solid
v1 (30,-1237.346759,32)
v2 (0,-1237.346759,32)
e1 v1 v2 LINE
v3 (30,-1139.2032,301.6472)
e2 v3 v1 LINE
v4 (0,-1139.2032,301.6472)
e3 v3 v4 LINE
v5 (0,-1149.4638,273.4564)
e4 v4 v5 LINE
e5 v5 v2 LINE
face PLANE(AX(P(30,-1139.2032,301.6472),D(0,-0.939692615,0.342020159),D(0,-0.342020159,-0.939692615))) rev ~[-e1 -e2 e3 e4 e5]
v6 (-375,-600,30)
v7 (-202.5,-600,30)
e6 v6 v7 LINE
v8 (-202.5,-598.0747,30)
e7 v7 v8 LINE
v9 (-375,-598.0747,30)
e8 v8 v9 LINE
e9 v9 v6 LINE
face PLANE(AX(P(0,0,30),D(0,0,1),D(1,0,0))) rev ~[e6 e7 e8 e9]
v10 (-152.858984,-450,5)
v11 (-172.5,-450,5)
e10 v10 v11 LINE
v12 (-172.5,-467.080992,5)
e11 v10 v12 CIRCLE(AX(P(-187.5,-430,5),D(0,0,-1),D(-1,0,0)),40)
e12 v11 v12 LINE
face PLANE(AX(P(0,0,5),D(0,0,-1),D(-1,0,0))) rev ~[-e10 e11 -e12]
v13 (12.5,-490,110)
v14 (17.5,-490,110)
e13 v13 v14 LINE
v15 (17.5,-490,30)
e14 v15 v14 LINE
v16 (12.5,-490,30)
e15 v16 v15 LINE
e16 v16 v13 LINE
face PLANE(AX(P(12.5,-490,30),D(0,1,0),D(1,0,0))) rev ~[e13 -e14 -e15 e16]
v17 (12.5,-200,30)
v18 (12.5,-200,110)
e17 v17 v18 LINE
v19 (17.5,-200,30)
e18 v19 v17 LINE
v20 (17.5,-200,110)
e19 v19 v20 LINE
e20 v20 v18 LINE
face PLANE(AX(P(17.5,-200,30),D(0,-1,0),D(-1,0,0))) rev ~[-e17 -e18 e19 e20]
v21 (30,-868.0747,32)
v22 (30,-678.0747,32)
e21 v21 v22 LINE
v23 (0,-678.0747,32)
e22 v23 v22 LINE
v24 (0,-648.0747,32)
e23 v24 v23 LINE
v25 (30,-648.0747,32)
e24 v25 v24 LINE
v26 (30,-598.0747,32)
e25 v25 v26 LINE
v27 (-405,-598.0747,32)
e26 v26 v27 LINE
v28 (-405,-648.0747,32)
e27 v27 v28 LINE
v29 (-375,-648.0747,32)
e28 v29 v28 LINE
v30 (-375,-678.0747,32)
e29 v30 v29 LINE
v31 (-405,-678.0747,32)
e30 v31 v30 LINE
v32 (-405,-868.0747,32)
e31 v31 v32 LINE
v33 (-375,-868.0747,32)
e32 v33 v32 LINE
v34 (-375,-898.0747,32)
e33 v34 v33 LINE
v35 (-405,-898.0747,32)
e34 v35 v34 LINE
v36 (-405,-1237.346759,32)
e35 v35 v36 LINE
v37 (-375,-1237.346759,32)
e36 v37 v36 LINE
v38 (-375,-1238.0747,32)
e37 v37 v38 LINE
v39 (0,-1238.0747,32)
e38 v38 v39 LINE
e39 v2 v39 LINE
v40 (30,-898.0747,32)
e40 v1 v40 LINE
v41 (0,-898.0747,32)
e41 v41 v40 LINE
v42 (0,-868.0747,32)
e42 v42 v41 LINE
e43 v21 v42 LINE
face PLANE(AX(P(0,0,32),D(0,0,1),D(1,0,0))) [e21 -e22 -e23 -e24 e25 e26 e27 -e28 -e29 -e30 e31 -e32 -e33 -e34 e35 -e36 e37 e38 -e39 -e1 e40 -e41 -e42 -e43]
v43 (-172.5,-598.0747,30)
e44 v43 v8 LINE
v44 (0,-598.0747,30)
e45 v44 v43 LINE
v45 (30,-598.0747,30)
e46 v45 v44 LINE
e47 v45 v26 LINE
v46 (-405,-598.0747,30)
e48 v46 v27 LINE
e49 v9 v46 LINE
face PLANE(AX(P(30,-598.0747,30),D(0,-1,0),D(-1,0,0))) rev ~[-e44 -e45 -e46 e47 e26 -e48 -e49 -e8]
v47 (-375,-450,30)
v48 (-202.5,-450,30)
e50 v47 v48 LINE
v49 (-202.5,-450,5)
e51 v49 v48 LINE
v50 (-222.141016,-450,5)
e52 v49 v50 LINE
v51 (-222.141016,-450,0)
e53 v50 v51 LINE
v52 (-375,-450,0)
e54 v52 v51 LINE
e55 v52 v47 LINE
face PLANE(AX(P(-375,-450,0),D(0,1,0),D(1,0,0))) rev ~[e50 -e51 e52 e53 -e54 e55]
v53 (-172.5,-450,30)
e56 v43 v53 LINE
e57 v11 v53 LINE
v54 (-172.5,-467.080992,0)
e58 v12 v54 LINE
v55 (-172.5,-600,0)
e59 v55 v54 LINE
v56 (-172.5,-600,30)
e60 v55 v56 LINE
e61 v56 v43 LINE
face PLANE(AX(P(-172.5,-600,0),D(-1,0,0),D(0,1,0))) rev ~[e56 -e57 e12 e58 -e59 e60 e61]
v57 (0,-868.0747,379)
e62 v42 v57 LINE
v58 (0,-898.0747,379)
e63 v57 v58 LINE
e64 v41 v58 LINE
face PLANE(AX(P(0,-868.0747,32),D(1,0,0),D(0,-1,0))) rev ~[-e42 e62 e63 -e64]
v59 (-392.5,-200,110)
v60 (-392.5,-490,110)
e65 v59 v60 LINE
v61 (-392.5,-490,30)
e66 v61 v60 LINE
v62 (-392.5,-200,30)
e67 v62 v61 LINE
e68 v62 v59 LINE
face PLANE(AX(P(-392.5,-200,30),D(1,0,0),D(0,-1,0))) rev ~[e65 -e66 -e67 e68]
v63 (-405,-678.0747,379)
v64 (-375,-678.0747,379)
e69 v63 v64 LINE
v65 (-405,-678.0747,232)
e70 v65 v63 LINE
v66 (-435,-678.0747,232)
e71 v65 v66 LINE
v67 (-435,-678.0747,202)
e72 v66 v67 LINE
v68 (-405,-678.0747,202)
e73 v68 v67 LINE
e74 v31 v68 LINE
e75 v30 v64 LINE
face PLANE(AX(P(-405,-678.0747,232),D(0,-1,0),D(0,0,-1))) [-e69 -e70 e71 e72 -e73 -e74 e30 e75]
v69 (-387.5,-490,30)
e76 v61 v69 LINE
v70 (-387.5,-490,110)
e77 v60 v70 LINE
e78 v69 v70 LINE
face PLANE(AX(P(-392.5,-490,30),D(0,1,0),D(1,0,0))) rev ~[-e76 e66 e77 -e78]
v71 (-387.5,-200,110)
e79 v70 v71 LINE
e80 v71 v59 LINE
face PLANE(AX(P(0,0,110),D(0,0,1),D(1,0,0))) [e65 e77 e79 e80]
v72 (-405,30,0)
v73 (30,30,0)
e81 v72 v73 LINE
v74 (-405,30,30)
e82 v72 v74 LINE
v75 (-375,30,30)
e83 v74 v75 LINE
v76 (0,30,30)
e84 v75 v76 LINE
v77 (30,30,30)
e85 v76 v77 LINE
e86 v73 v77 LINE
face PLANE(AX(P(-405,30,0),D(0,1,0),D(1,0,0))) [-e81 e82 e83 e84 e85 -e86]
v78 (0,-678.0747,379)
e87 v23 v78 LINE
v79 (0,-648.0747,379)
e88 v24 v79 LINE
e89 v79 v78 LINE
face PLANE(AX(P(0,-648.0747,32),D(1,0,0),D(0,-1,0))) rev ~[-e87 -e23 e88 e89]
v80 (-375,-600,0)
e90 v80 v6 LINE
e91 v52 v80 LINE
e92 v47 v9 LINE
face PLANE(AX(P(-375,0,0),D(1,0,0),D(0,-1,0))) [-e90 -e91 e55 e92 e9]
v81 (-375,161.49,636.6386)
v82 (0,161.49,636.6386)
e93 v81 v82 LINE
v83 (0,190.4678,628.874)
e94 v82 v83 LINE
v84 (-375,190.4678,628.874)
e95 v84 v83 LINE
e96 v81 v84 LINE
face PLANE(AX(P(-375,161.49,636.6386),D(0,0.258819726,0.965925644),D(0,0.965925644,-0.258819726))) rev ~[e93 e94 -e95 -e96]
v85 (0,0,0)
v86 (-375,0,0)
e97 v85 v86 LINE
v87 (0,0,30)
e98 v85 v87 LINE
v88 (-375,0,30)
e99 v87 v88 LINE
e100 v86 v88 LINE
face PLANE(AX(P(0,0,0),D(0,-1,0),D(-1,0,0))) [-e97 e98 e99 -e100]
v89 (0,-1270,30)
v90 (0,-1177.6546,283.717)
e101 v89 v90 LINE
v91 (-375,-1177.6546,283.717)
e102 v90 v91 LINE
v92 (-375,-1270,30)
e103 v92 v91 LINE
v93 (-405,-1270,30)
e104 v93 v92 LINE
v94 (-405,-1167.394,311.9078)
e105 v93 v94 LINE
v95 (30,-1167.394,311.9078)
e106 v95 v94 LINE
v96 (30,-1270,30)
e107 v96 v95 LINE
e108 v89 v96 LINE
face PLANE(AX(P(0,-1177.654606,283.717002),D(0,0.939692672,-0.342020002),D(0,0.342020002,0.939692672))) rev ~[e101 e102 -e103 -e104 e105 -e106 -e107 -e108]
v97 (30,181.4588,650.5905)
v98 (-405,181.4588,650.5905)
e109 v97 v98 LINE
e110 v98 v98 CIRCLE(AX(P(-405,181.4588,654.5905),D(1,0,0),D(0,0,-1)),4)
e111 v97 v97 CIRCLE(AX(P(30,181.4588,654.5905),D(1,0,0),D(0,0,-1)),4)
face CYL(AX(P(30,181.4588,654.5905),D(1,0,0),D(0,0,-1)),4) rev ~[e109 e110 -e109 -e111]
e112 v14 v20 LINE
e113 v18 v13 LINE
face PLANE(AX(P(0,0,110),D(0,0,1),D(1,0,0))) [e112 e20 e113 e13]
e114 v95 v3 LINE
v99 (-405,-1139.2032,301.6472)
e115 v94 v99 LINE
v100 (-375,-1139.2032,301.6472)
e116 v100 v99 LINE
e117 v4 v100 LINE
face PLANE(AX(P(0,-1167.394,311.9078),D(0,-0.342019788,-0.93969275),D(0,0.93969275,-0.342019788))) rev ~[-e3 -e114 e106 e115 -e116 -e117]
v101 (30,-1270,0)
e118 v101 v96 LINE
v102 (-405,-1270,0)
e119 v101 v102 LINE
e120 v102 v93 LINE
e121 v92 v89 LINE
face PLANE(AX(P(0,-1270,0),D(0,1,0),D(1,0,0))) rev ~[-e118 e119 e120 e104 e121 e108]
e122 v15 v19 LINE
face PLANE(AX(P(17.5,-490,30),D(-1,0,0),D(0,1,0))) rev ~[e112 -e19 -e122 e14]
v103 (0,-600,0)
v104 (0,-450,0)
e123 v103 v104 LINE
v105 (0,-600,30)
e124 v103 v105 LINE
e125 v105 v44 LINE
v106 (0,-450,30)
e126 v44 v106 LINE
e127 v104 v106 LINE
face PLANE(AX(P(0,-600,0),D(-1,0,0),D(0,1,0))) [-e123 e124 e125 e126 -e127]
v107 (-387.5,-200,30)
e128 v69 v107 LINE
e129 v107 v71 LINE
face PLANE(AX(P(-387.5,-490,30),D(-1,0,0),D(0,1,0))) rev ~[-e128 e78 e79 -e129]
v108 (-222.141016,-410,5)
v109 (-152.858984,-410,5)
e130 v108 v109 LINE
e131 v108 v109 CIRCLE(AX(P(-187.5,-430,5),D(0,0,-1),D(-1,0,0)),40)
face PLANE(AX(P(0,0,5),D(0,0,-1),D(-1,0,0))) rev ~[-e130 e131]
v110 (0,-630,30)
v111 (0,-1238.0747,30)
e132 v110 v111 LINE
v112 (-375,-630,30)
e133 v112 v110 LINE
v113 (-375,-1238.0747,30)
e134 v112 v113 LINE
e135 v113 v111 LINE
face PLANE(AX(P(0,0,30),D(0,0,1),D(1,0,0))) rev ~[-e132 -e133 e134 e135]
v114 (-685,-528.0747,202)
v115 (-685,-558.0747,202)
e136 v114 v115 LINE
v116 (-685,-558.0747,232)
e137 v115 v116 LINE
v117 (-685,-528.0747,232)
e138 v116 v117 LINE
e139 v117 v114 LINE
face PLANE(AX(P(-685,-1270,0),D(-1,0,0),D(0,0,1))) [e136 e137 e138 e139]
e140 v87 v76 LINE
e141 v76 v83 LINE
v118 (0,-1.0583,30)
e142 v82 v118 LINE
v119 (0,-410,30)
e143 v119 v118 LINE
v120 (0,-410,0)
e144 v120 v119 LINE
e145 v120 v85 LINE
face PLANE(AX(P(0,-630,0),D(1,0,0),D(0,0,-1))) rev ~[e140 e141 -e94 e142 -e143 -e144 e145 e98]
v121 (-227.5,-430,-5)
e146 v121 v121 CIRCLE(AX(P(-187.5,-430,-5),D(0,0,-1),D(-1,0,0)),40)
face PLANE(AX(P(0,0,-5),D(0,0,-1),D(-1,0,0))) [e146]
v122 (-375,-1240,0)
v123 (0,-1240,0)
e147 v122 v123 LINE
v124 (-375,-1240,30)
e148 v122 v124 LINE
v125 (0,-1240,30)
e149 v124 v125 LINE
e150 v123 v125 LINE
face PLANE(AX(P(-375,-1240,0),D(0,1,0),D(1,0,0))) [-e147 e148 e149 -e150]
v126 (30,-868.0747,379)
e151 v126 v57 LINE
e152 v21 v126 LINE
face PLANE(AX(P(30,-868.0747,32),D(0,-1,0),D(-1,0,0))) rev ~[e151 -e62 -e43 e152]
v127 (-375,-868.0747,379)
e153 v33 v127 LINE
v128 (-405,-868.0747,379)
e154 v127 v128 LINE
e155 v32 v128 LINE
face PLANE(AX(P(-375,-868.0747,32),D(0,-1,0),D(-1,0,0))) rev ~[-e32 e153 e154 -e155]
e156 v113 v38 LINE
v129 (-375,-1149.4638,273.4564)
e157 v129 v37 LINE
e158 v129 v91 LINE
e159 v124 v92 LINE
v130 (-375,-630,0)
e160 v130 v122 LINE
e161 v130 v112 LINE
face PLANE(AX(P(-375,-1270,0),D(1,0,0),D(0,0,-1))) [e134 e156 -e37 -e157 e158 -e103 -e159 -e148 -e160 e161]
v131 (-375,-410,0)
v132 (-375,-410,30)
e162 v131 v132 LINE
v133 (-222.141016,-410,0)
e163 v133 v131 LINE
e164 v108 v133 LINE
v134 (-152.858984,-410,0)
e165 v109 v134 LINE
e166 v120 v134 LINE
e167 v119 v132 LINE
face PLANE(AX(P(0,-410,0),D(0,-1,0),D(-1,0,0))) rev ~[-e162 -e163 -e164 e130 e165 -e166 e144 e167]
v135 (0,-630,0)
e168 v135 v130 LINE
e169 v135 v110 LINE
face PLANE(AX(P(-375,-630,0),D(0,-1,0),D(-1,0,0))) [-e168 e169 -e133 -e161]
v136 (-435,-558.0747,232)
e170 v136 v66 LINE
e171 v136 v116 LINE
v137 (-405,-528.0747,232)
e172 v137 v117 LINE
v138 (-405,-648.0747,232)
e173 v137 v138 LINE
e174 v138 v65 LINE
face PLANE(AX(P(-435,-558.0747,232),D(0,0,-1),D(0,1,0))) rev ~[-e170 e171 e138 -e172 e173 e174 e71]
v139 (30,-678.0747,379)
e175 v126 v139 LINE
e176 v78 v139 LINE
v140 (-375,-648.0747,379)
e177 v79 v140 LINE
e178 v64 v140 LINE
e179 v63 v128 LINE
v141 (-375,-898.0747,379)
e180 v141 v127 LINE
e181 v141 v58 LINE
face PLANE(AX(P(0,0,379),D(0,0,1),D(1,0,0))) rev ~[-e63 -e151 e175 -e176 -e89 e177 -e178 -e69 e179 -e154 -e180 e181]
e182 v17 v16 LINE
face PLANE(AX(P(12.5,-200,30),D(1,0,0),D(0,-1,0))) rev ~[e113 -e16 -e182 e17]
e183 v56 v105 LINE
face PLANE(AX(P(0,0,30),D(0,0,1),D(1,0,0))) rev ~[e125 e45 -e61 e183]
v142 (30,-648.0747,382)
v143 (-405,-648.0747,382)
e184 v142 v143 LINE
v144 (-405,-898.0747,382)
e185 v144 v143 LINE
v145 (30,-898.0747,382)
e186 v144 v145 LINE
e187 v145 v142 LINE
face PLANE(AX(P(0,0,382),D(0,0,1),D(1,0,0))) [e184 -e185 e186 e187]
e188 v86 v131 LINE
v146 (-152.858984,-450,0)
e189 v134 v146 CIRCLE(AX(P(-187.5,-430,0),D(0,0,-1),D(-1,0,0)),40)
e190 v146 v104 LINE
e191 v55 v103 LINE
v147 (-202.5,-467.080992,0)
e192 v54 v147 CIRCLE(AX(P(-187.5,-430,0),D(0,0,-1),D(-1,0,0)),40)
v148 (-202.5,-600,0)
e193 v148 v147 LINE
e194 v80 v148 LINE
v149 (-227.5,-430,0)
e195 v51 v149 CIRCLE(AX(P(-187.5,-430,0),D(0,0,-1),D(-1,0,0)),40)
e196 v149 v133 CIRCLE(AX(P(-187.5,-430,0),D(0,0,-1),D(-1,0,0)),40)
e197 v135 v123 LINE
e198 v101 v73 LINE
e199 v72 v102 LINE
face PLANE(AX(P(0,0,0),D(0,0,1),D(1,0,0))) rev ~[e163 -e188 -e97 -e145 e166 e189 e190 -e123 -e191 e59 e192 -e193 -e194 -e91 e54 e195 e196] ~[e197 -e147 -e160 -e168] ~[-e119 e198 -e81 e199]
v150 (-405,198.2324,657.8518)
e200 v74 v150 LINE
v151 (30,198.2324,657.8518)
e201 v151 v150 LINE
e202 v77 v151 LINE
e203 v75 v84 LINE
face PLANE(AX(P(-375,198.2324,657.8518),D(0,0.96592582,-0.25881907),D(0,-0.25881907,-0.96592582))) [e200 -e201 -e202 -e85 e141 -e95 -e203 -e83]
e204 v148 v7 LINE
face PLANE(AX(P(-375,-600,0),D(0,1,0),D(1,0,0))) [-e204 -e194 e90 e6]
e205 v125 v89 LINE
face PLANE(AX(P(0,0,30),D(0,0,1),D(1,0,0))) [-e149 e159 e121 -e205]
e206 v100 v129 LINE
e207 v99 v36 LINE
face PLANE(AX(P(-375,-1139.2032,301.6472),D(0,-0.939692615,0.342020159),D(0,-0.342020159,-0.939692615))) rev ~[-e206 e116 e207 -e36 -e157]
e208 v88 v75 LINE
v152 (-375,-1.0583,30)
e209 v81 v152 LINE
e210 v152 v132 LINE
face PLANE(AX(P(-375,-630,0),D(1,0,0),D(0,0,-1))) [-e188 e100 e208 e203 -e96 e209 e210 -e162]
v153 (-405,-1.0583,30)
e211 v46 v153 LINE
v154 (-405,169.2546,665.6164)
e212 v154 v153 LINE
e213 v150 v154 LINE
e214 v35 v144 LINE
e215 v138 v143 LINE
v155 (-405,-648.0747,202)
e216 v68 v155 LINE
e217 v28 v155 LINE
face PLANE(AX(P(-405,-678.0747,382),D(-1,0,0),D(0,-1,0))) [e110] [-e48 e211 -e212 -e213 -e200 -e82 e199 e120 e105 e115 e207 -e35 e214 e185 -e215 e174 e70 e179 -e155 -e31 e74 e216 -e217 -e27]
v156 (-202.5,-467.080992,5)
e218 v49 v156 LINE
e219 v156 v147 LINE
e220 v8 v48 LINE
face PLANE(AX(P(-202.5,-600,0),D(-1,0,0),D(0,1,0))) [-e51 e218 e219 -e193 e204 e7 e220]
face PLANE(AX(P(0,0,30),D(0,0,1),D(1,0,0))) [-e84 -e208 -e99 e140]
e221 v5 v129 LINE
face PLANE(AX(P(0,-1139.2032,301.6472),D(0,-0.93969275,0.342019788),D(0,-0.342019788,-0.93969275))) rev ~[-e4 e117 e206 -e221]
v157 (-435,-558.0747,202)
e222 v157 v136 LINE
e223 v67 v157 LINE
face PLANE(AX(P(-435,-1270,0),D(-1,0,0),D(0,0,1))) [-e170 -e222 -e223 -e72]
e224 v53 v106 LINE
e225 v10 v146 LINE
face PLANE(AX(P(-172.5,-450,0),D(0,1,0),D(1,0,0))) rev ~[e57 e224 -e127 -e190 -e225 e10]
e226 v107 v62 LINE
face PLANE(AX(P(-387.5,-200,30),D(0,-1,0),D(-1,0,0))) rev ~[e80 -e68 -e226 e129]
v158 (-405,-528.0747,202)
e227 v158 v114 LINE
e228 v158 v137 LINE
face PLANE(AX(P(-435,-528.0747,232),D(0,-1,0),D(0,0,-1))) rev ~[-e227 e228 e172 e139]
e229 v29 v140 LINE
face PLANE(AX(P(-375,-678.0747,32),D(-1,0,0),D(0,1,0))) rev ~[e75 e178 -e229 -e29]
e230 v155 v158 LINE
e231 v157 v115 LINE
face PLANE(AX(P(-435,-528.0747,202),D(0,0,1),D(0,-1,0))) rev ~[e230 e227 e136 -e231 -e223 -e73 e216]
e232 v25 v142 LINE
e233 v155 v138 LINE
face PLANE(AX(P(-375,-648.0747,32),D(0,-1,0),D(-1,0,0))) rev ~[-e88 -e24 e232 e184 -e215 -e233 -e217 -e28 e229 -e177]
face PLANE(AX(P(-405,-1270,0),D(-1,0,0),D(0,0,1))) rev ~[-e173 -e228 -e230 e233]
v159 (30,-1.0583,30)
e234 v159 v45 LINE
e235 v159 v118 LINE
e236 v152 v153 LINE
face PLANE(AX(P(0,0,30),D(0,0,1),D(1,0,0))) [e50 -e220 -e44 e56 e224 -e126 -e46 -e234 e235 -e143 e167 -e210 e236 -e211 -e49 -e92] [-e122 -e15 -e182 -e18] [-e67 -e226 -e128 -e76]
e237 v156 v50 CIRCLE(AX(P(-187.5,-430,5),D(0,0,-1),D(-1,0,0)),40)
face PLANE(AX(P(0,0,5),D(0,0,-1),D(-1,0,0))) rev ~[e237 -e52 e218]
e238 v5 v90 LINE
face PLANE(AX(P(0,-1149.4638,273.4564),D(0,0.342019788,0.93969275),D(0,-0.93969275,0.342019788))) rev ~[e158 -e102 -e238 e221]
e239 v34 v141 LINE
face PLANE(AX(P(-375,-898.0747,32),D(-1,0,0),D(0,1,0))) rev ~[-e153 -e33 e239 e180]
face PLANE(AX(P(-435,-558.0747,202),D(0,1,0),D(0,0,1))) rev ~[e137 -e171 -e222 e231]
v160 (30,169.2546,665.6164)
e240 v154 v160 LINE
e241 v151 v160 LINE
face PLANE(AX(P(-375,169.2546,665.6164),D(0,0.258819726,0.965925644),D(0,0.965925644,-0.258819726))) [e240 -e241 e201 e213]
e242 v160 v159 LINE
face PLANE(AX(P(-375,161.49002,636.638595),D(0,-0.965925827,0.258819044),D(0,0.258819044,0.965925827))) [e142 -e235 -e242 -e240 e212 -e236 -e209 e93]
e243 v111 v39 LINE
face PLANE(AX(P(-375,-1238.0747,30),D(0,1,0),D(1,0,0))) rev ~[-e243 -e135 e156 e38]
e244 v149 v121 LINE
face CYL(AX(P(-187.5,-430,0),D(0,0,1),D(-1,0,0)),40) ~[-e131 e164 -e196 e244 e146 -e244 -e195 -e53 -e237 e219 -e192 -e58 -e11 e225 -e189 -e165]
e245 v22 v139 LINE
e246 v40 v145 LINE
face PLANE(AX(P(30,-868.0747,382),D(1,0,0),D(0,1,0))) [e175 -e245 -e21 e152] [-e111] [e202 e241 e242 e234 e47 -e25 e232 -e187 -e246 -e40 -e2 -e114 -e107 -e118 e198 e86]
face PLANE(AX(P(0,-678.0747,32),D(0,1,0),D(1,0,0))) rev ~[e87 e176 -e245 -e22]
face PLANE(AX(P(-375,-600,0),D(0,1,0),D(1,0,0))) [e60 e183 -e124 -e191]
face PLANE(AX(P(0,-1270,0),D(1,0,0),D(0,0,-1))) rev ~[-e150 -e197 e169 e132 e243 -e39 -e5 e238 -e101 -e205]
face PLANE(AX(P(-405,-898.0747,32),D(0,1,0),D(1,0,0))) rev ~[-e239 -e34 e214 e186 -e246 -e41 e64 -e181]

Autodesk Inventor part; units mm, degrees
ref_plane "YZ Plane" through (0, 0, 0) normal (1, 0, 0) x (0, 1, 0)
ref_plane "XZ Plane" through (0, 0, 0) normal (0, 1, 0) x (-1, 0, 0)
ref_plane "XY Plane" through (0, 0, 0) normal (0, 0, 1) x (1, 0, 0)
sketch "Sketch1" plane through (0, 0, 0) normal (0, 0, 1) x (1, 0, 0)
  line L0 (0, 0) -> (-375, 0)
  line L1 (-375, 0) -> (-375, -600)
  line L2 (-375, -600) -> (0, -600)
  line L3 (0, -600) -> (0, 0)
  line L4 (-405, 30) -> (30, 30)
  line L5 (30, 30) -> (30, -630)
  line L6 (30, -630) -> (-405, -630)
  line L7 (-405, -630) -> (-405, 30)
  line L8 (-405, -630) -> (-375, -630)
  line L9 (-375, -630) -> (-375, -1270)
  line L10 (-375, -1270) -> (-405, -1270)
  line L11 (-405, -1270) -> (-405, -630)
  line L12 (30, -630) -> (0, -630)
  line L13 (0, -630) -> (0, -1270)
  line L14 (0, -1270) -> (30, -1270)
  line L15 (30, -1270) -> (30, -630)
  line L16 (-375, -1270) -> (0, -1270)
  line L17 (0, -1270) -> (0, -1240)
  line L18 (0, -1240) -> (-375, -1240)
  line L19 (-375, -1240) -> (-375, -1270)
  dimension "d0" = 375
  dimension "d1" = 600
  dimension "d2" = 30
  dimension "d3" = 30
  dimension "d4" = 30
  dimension "d5" = 30
  dimension "d38" = 30
  dimension "d39" = 640
  dimension "d40" = 30
  dimension "d41" = 640
  dimension "d42" = 30
extrude "Extrusion1" add sketch "Sketch1" along normal blind 30 contours L4 L5 L6 L7
sketch "Sketch2" plane through (0, 0, 0) normal (0, 0, -1) x (-1, 0, 0)
  line L0 (375, -600) -> (375, 0) projected
  line L1 (375, -450) -> (0, -450)
  line L2 (0, -450) -> (0, -410)
  line L3 (0, -410) -> (375, -410)
  line L4 (375, -410) -> (375, -450)
  line L5 (0, -600) -> (375, -600) projected
  line L6 (202.5, -600) -> (202.5, -450)
  line L7 (172.5, -600) -> (172.5, -450)
  point P0 (0, 0)
  dimension "d8" = 375
  dimension "d9" = 40
  dimension "d10" = 150
extrude "Extrusion2" add sketch "Sketch2" against normal blind 30 contours L1 L2 L3 L0 | L5 L7 L1 L6
sketch "Sketch3" plane through (0, 0, 30) normal (0, 0, 1) x (1, 0, 0)
  line L0 (12.5, -490) -> (17.5, -490)
  line L1 (17.5, -490) -> (17.5, -200)
  line L2 (17.5, -200) -> (12.5, -200)
  line L3 (12.5, -200) -> (12.5, -490)
  line L4 (0, -410) -> (-375, -410) projected
  line L5 (-392.5, -490) -> (-387.5, -490)
  line L6 (-387.5, -490) -> (-387.5, -200)
  line L7 (-387.5, -200) -> (-392.5, -200)
  line L8 (-392.5, -200) -> (-392.5, -490)
  line L9 (0, -600) -> (-172.5, -600) projected
  point P0 (0, 0)
  dimension "d13" = 5
  dimension "d14" = 290
  dimension "d18" = 405
  dimension "d37" = 110
extrude "Extrusion3" add sketch "Sketch3" along normal blind 80
sketch "Sketch4" plane through (30, -630, 0) normal (1, 0, 0) x (0, 0, -1)
  line L0 (-30, 0) -> (-30, 660) projected
  line L1 (-30, 660) -> (-657.8518, 828.2324)
  line L2 (-30, 660) -> (620, 660) construction
  line L3 (-657.8518, 828.2324) -> (-665.6164, 799.2546)
  line L4 (-665.6164, 799.2546) -> (-30, 628.9417)
  point P0 (0, 630)
  dimension "d25" = 650
  dimension "d26" = 165
  dimension "d27" = 30
  dimension "d28" = 270
extrude "Extrusion4" add sketch "Sketch4" against normal blind 30
pattern_linear "Rectangular Pattern1" count 2 spacing 405 along (-1, 0, 0) of "Extrusion4"
sketch "Sketch5" plane through (-375, 0, 30) normal (1, 0, 0) x (0, 0, -1)
  line L0 (-635.6164, 169.2546) -> (-627.8518, 198.2324) projected
  line L1 (0, -1.0583) -> (-635.6164, 169.2546) projected
  line L2 (-627.8518, 198.2324) -> (-635.6164, 169.2546)
  line L3 (-635.6164, 169.2546) -> (-606.6386, 161.49)
  line L4 (-606.6386, 161.49) -> (-598.874, 190.4678)
  line L5 (-627.8518, 198.2324) -> (0, 30) projected
  line L6 (-627.8518, 198.2324) -> (-598.874, 190.4678)
  point P0 (30, 0)
  dimension "d34" = 30
extrude "Extrusion5" add sketch "Sketch5" along normal up to surface (375 mm away)
sketch "Sketch6" plane through (0, 0, 0) normal (0, 0, -1) x (-1, 0, 0)
  line L0 (0, -630) -> (0, -1270)
  line L1 (0, -1270) -> (-30, -1270)
  line L2 (-30, -1270) -> (-30, -630)
  line L3 (375, -630) -> (375, -1270)
  line L4 (375, -1270) -> (405, -1270)
  line L5 (405, -1270) -> (405, -630)
  line L6 (0, -1270) -> (375, -1270)
  line L7 (375, -1270) -> (375, -1240)
  line L8 (375, -1240) -> (0, -1240)
  line L9 (0, -1240) -> (0, -1270)
  line L10 (405, -1.0583) -> (405, -630) projected
  line L11 (-30, -630) -> (-30, -1.0583) projected
  line L12 (405, -630) -> (375, -630)
  line L13 (405, -630) -> (-30, -630) projected
  line L14 (0, -630) -> (-30, -630)
  point P0 (0, 0)
  dimension "d43" = 30
  dimension "d44" = 640
  dimension "d45" = 30
  dimension "d46" = 640
  dimension "d47" = 30
  dimension "d48" = 0
  dimension "d49" = 0
extrude "Extrusion6" add sketch "Sketch6" against normal blind 30 contours L0 L1 L2 L13 | L8 L3 L6 L0 | L12 L5 L4 L3
sketch "Sketch7" plane through (0, 0, 0) normal (0, 0, -1) x (-1, 0, 0)
  circle A0 centre (187.5, -430) radius 40
  point P0 (0, 0)
  dimension "d52" = 80
extrude "Extrusion7" add sketch "Sketch7" along normal blind 5 and the other way blind 5
sketch "Sketch8" plane through (30, -1270, 0) normal (1, 0, 0) x (0, 0, -1)
  line L0 (0, 0) -> (-30, 0) projected
  line L1 (-30, 0) -> (-311.9078, 102.606)
  line L2 (-30, 0) -> (270, 0) construction
  line L3 (-311.9078, 102.606) -> (-301.6472, 130.7968)
  line L4 (-301.6472, 130.7968) -> (-30, 31.9253)
  line L5 (-30, 640) -> (-30, 30) projected
  line L6 (-30, 31.9253) -> (-30, 0)
  point P0 (0, 1270)
  dimension "d55" = 300
  dimension "d56" = 160
  dimension "d57" = 30
  dimension "d58" = 90
extrude "Extrusion8" add sketch "Sketch8" against normal blind 30
pattern_linear "Rectangular Pattern2" count 2 spacing 405 along (-1, 0, 0) of "Extrusion8"
sketch "Sketch9" plane through (0, -1240, 0) normal (-1, 0, 0) x (0, 0, 1)
  line L0 (311.9078, 72.606) -> (301.6472, 100.7968) projected
  line L1 (311.9078, 72.606) -> (301.6472, 100.7968)
  line L2 (301.6472, 100.7968) -> (273.4564, 90.5362)
  line L3 (30, 1.9253) -> (301.6472, 100.7968) projected
  line L4 (273.4564, 90.5362) -> (283.717, 62.3454)
  line L5 (30, -30) -> (311.9078, 72.606) projected
  line L6 (283.717, 62.3454) -> (311.9078, 72.606)
  point P0 (0, 1240)
  dimension "d64" = 30
extrude "Extrusion9" add sketch "Sketch9" along normal up to surface (375 mm away)
sketch "Sketch10" plane through (0, 0, 30) normal (0, 0, 1) x (1, 0, 0)
  line L0 (-405, -1238.0747) -> (-375, -1238.0747) projected
  line L1 (-405, -1238.0747) -> (30, -1238.0747)
  line L2 (30, -1238.0747) -> (30, -598.0747)
  line L3 (30, -598.0747) -> (-405, -598.0747)
  line L4 (-405, -598.0747) -> (-405, -1238.0747)
  point P0 (0, 0)
  dimension "d67" = 435
  dimension "d68" = 640
extrude "Extrusion10" add sketch "Sketch10" along normal blind 2
sketch "Sketch11" plane through (0, 0, 32) normal (0, 0, 1) x (1, 0, 0)
  line L0 (30, -648.0747) -> (0, -648.0747)
  line L1 (0, -648.0747) -> (0, -678.0747)
  line L2 (0, -678.0747) -> (30, -678.0747)
  line L3 (30, -678.0747) -> (30, -648.0747)
  line L4 (30, -598.0747) -> (-405, -598.0747) projected
  point P0 (0, 0)
  dimension "d71" = 30
  dimension "d72" = 30
  dimension "d73" = 50
extrude "Extrusion11" add sketch "Sketch11" along normal blind 350
pattern_linear "Rectangular Pattern3" count 2 spacing 220 along (0, -1, 0) count 2 spacing 405 along (-1, 0, 0) of "Extrusion11"
sketch "Sketch12" plane through (0, 0, 382) normal (0, 0, 1) x (1, 0, 0)
  line L0 (-405, -868.0747) -> (-405, -898.0747) projected
  line L1 (-405, -898.0747) -> (-375, -898.0747) projected
  line L2 (-375, -898.0747) -> (-375, -868.0747) projected
  line L3 (-375, -868.0747) -> (-405, -868.0747) projected
  line L4 (-405, -648.0747) -> (-405, -678.0747) projected
  line L5 (-405, -678.0747) -> (-375, -678.0747) projected
  line L6 (-375, -678.0747) -> (-375, -648.0747) projected
  line L7 (-375, -648.0747) -> (-405, -648.0747) projected
  line L8 (0, -648.0747) -> (0, -678.0747) projected
  line L9 (0, -678.0747) -> (30, -678.0747) projected
  line L10 (30, -678.0747) -> (30, -648.0747) projected
  line L11 (30, -648.0747) -> (0, -648.0747) projected
  line L12 (0, -868.0747) -> (0, -898.0747) projected
  line L13 (0, -898.0747) -> (30, -898.0747) projected
  line L14 (30, -898.0747) -> (30, -868.0747) projected
  line L15 (30, -868.0747) -> (0, -868.0747) projected
  line L16 (-405, -898.0747) -> (-375, -898.0747) projected
  line L17 (-405, -898.0747) -> (30, -898.0747)
  line L18 (30, -898.0747) -> (30, -648.0747)
  line L19 (30, -648.0747) -> (-405, -648.0747)
  line L20 (-405, -648.0747) -> (-405, -898.0747)
  point P0 (0, 0)
  point P1 (0, -898.0747)
  point P2 (30, -868.0747)
  point P3 (30, -678.0747)
  point P4 (0, -648.0747)
extrude "Extrusion12" add sketch "Sketch12" against normal blind 3 contours L20 L5 L6 L19 L8 L9 L18 L15 L12 L17 L2 L3
sketch "Sketch13" plane through (-405, -1270, 0) normal (-1, 0, 0) x (0, 0, 1)
  line L0 (232, 591.9253) -> (202, 591.9253)
  line L1 (202, 591.9253) -> (202, 741.9253)
  line L2 (202, 741.9253) -> (232, 741.9253)
  line L3 (232, 741.9253) -> (232, 591.9253)
  line L4 (32, 591.9253) -> (379, 591.9253) projected
  line L5 (382, 621.9253) -> (382, 371.9253) projected
  point P0 (0, 1270)
  dimension "d84" = 30
  dimension "d85" = 150
  dimension "d86" = 0
  dimension "d87" = 150
extrude "Extrusion13" add sketch "Sketch13" along normal blind 30
sketch "Sketch14" plane through (-435, -1270, 0) normal (-1, 0, 0) x (0, 0, 1)
  line L0 (232, 741.9253) -> (202, 741.9253) projected
  line L1 (232, 741.9253) -> (202, 741.9253)
  line L2 (202, 741.9253) -> (202, 711.9253)
  line L3 (202, 711.9253) -> (232, 711.9253)
  line L4 (232, 711.9253) -> (232, 741.9253)
  point P0 (0, 1270)
  point P1 (202, 741.9253)
  dimension "d90" = 30
  dimension "d91" = 30
extrude "Extrusion14" add sketch "Sketch14" along normal blind 250
sketch "Sketch15" plane through (30, -1270, 0) normal (1, 0, 0) x (0, 0, -1)
  line L0 (-657.8518, 1468.2324) -> (-665.6164, 1439.2546) construction
  circle A0 centre (-661.7341, 1453.7435) radius 7.5 construction
  circle A1 centre (-654.5905, 1451.4588) radius 4
  point P0 (0, 1270)
  dimension "d96" = 15
  dimension "d97" = 8
extrude "Extrusion15" cut sketch "Sketch15" against normal through all
properties part number "rama pod fotel v2"
